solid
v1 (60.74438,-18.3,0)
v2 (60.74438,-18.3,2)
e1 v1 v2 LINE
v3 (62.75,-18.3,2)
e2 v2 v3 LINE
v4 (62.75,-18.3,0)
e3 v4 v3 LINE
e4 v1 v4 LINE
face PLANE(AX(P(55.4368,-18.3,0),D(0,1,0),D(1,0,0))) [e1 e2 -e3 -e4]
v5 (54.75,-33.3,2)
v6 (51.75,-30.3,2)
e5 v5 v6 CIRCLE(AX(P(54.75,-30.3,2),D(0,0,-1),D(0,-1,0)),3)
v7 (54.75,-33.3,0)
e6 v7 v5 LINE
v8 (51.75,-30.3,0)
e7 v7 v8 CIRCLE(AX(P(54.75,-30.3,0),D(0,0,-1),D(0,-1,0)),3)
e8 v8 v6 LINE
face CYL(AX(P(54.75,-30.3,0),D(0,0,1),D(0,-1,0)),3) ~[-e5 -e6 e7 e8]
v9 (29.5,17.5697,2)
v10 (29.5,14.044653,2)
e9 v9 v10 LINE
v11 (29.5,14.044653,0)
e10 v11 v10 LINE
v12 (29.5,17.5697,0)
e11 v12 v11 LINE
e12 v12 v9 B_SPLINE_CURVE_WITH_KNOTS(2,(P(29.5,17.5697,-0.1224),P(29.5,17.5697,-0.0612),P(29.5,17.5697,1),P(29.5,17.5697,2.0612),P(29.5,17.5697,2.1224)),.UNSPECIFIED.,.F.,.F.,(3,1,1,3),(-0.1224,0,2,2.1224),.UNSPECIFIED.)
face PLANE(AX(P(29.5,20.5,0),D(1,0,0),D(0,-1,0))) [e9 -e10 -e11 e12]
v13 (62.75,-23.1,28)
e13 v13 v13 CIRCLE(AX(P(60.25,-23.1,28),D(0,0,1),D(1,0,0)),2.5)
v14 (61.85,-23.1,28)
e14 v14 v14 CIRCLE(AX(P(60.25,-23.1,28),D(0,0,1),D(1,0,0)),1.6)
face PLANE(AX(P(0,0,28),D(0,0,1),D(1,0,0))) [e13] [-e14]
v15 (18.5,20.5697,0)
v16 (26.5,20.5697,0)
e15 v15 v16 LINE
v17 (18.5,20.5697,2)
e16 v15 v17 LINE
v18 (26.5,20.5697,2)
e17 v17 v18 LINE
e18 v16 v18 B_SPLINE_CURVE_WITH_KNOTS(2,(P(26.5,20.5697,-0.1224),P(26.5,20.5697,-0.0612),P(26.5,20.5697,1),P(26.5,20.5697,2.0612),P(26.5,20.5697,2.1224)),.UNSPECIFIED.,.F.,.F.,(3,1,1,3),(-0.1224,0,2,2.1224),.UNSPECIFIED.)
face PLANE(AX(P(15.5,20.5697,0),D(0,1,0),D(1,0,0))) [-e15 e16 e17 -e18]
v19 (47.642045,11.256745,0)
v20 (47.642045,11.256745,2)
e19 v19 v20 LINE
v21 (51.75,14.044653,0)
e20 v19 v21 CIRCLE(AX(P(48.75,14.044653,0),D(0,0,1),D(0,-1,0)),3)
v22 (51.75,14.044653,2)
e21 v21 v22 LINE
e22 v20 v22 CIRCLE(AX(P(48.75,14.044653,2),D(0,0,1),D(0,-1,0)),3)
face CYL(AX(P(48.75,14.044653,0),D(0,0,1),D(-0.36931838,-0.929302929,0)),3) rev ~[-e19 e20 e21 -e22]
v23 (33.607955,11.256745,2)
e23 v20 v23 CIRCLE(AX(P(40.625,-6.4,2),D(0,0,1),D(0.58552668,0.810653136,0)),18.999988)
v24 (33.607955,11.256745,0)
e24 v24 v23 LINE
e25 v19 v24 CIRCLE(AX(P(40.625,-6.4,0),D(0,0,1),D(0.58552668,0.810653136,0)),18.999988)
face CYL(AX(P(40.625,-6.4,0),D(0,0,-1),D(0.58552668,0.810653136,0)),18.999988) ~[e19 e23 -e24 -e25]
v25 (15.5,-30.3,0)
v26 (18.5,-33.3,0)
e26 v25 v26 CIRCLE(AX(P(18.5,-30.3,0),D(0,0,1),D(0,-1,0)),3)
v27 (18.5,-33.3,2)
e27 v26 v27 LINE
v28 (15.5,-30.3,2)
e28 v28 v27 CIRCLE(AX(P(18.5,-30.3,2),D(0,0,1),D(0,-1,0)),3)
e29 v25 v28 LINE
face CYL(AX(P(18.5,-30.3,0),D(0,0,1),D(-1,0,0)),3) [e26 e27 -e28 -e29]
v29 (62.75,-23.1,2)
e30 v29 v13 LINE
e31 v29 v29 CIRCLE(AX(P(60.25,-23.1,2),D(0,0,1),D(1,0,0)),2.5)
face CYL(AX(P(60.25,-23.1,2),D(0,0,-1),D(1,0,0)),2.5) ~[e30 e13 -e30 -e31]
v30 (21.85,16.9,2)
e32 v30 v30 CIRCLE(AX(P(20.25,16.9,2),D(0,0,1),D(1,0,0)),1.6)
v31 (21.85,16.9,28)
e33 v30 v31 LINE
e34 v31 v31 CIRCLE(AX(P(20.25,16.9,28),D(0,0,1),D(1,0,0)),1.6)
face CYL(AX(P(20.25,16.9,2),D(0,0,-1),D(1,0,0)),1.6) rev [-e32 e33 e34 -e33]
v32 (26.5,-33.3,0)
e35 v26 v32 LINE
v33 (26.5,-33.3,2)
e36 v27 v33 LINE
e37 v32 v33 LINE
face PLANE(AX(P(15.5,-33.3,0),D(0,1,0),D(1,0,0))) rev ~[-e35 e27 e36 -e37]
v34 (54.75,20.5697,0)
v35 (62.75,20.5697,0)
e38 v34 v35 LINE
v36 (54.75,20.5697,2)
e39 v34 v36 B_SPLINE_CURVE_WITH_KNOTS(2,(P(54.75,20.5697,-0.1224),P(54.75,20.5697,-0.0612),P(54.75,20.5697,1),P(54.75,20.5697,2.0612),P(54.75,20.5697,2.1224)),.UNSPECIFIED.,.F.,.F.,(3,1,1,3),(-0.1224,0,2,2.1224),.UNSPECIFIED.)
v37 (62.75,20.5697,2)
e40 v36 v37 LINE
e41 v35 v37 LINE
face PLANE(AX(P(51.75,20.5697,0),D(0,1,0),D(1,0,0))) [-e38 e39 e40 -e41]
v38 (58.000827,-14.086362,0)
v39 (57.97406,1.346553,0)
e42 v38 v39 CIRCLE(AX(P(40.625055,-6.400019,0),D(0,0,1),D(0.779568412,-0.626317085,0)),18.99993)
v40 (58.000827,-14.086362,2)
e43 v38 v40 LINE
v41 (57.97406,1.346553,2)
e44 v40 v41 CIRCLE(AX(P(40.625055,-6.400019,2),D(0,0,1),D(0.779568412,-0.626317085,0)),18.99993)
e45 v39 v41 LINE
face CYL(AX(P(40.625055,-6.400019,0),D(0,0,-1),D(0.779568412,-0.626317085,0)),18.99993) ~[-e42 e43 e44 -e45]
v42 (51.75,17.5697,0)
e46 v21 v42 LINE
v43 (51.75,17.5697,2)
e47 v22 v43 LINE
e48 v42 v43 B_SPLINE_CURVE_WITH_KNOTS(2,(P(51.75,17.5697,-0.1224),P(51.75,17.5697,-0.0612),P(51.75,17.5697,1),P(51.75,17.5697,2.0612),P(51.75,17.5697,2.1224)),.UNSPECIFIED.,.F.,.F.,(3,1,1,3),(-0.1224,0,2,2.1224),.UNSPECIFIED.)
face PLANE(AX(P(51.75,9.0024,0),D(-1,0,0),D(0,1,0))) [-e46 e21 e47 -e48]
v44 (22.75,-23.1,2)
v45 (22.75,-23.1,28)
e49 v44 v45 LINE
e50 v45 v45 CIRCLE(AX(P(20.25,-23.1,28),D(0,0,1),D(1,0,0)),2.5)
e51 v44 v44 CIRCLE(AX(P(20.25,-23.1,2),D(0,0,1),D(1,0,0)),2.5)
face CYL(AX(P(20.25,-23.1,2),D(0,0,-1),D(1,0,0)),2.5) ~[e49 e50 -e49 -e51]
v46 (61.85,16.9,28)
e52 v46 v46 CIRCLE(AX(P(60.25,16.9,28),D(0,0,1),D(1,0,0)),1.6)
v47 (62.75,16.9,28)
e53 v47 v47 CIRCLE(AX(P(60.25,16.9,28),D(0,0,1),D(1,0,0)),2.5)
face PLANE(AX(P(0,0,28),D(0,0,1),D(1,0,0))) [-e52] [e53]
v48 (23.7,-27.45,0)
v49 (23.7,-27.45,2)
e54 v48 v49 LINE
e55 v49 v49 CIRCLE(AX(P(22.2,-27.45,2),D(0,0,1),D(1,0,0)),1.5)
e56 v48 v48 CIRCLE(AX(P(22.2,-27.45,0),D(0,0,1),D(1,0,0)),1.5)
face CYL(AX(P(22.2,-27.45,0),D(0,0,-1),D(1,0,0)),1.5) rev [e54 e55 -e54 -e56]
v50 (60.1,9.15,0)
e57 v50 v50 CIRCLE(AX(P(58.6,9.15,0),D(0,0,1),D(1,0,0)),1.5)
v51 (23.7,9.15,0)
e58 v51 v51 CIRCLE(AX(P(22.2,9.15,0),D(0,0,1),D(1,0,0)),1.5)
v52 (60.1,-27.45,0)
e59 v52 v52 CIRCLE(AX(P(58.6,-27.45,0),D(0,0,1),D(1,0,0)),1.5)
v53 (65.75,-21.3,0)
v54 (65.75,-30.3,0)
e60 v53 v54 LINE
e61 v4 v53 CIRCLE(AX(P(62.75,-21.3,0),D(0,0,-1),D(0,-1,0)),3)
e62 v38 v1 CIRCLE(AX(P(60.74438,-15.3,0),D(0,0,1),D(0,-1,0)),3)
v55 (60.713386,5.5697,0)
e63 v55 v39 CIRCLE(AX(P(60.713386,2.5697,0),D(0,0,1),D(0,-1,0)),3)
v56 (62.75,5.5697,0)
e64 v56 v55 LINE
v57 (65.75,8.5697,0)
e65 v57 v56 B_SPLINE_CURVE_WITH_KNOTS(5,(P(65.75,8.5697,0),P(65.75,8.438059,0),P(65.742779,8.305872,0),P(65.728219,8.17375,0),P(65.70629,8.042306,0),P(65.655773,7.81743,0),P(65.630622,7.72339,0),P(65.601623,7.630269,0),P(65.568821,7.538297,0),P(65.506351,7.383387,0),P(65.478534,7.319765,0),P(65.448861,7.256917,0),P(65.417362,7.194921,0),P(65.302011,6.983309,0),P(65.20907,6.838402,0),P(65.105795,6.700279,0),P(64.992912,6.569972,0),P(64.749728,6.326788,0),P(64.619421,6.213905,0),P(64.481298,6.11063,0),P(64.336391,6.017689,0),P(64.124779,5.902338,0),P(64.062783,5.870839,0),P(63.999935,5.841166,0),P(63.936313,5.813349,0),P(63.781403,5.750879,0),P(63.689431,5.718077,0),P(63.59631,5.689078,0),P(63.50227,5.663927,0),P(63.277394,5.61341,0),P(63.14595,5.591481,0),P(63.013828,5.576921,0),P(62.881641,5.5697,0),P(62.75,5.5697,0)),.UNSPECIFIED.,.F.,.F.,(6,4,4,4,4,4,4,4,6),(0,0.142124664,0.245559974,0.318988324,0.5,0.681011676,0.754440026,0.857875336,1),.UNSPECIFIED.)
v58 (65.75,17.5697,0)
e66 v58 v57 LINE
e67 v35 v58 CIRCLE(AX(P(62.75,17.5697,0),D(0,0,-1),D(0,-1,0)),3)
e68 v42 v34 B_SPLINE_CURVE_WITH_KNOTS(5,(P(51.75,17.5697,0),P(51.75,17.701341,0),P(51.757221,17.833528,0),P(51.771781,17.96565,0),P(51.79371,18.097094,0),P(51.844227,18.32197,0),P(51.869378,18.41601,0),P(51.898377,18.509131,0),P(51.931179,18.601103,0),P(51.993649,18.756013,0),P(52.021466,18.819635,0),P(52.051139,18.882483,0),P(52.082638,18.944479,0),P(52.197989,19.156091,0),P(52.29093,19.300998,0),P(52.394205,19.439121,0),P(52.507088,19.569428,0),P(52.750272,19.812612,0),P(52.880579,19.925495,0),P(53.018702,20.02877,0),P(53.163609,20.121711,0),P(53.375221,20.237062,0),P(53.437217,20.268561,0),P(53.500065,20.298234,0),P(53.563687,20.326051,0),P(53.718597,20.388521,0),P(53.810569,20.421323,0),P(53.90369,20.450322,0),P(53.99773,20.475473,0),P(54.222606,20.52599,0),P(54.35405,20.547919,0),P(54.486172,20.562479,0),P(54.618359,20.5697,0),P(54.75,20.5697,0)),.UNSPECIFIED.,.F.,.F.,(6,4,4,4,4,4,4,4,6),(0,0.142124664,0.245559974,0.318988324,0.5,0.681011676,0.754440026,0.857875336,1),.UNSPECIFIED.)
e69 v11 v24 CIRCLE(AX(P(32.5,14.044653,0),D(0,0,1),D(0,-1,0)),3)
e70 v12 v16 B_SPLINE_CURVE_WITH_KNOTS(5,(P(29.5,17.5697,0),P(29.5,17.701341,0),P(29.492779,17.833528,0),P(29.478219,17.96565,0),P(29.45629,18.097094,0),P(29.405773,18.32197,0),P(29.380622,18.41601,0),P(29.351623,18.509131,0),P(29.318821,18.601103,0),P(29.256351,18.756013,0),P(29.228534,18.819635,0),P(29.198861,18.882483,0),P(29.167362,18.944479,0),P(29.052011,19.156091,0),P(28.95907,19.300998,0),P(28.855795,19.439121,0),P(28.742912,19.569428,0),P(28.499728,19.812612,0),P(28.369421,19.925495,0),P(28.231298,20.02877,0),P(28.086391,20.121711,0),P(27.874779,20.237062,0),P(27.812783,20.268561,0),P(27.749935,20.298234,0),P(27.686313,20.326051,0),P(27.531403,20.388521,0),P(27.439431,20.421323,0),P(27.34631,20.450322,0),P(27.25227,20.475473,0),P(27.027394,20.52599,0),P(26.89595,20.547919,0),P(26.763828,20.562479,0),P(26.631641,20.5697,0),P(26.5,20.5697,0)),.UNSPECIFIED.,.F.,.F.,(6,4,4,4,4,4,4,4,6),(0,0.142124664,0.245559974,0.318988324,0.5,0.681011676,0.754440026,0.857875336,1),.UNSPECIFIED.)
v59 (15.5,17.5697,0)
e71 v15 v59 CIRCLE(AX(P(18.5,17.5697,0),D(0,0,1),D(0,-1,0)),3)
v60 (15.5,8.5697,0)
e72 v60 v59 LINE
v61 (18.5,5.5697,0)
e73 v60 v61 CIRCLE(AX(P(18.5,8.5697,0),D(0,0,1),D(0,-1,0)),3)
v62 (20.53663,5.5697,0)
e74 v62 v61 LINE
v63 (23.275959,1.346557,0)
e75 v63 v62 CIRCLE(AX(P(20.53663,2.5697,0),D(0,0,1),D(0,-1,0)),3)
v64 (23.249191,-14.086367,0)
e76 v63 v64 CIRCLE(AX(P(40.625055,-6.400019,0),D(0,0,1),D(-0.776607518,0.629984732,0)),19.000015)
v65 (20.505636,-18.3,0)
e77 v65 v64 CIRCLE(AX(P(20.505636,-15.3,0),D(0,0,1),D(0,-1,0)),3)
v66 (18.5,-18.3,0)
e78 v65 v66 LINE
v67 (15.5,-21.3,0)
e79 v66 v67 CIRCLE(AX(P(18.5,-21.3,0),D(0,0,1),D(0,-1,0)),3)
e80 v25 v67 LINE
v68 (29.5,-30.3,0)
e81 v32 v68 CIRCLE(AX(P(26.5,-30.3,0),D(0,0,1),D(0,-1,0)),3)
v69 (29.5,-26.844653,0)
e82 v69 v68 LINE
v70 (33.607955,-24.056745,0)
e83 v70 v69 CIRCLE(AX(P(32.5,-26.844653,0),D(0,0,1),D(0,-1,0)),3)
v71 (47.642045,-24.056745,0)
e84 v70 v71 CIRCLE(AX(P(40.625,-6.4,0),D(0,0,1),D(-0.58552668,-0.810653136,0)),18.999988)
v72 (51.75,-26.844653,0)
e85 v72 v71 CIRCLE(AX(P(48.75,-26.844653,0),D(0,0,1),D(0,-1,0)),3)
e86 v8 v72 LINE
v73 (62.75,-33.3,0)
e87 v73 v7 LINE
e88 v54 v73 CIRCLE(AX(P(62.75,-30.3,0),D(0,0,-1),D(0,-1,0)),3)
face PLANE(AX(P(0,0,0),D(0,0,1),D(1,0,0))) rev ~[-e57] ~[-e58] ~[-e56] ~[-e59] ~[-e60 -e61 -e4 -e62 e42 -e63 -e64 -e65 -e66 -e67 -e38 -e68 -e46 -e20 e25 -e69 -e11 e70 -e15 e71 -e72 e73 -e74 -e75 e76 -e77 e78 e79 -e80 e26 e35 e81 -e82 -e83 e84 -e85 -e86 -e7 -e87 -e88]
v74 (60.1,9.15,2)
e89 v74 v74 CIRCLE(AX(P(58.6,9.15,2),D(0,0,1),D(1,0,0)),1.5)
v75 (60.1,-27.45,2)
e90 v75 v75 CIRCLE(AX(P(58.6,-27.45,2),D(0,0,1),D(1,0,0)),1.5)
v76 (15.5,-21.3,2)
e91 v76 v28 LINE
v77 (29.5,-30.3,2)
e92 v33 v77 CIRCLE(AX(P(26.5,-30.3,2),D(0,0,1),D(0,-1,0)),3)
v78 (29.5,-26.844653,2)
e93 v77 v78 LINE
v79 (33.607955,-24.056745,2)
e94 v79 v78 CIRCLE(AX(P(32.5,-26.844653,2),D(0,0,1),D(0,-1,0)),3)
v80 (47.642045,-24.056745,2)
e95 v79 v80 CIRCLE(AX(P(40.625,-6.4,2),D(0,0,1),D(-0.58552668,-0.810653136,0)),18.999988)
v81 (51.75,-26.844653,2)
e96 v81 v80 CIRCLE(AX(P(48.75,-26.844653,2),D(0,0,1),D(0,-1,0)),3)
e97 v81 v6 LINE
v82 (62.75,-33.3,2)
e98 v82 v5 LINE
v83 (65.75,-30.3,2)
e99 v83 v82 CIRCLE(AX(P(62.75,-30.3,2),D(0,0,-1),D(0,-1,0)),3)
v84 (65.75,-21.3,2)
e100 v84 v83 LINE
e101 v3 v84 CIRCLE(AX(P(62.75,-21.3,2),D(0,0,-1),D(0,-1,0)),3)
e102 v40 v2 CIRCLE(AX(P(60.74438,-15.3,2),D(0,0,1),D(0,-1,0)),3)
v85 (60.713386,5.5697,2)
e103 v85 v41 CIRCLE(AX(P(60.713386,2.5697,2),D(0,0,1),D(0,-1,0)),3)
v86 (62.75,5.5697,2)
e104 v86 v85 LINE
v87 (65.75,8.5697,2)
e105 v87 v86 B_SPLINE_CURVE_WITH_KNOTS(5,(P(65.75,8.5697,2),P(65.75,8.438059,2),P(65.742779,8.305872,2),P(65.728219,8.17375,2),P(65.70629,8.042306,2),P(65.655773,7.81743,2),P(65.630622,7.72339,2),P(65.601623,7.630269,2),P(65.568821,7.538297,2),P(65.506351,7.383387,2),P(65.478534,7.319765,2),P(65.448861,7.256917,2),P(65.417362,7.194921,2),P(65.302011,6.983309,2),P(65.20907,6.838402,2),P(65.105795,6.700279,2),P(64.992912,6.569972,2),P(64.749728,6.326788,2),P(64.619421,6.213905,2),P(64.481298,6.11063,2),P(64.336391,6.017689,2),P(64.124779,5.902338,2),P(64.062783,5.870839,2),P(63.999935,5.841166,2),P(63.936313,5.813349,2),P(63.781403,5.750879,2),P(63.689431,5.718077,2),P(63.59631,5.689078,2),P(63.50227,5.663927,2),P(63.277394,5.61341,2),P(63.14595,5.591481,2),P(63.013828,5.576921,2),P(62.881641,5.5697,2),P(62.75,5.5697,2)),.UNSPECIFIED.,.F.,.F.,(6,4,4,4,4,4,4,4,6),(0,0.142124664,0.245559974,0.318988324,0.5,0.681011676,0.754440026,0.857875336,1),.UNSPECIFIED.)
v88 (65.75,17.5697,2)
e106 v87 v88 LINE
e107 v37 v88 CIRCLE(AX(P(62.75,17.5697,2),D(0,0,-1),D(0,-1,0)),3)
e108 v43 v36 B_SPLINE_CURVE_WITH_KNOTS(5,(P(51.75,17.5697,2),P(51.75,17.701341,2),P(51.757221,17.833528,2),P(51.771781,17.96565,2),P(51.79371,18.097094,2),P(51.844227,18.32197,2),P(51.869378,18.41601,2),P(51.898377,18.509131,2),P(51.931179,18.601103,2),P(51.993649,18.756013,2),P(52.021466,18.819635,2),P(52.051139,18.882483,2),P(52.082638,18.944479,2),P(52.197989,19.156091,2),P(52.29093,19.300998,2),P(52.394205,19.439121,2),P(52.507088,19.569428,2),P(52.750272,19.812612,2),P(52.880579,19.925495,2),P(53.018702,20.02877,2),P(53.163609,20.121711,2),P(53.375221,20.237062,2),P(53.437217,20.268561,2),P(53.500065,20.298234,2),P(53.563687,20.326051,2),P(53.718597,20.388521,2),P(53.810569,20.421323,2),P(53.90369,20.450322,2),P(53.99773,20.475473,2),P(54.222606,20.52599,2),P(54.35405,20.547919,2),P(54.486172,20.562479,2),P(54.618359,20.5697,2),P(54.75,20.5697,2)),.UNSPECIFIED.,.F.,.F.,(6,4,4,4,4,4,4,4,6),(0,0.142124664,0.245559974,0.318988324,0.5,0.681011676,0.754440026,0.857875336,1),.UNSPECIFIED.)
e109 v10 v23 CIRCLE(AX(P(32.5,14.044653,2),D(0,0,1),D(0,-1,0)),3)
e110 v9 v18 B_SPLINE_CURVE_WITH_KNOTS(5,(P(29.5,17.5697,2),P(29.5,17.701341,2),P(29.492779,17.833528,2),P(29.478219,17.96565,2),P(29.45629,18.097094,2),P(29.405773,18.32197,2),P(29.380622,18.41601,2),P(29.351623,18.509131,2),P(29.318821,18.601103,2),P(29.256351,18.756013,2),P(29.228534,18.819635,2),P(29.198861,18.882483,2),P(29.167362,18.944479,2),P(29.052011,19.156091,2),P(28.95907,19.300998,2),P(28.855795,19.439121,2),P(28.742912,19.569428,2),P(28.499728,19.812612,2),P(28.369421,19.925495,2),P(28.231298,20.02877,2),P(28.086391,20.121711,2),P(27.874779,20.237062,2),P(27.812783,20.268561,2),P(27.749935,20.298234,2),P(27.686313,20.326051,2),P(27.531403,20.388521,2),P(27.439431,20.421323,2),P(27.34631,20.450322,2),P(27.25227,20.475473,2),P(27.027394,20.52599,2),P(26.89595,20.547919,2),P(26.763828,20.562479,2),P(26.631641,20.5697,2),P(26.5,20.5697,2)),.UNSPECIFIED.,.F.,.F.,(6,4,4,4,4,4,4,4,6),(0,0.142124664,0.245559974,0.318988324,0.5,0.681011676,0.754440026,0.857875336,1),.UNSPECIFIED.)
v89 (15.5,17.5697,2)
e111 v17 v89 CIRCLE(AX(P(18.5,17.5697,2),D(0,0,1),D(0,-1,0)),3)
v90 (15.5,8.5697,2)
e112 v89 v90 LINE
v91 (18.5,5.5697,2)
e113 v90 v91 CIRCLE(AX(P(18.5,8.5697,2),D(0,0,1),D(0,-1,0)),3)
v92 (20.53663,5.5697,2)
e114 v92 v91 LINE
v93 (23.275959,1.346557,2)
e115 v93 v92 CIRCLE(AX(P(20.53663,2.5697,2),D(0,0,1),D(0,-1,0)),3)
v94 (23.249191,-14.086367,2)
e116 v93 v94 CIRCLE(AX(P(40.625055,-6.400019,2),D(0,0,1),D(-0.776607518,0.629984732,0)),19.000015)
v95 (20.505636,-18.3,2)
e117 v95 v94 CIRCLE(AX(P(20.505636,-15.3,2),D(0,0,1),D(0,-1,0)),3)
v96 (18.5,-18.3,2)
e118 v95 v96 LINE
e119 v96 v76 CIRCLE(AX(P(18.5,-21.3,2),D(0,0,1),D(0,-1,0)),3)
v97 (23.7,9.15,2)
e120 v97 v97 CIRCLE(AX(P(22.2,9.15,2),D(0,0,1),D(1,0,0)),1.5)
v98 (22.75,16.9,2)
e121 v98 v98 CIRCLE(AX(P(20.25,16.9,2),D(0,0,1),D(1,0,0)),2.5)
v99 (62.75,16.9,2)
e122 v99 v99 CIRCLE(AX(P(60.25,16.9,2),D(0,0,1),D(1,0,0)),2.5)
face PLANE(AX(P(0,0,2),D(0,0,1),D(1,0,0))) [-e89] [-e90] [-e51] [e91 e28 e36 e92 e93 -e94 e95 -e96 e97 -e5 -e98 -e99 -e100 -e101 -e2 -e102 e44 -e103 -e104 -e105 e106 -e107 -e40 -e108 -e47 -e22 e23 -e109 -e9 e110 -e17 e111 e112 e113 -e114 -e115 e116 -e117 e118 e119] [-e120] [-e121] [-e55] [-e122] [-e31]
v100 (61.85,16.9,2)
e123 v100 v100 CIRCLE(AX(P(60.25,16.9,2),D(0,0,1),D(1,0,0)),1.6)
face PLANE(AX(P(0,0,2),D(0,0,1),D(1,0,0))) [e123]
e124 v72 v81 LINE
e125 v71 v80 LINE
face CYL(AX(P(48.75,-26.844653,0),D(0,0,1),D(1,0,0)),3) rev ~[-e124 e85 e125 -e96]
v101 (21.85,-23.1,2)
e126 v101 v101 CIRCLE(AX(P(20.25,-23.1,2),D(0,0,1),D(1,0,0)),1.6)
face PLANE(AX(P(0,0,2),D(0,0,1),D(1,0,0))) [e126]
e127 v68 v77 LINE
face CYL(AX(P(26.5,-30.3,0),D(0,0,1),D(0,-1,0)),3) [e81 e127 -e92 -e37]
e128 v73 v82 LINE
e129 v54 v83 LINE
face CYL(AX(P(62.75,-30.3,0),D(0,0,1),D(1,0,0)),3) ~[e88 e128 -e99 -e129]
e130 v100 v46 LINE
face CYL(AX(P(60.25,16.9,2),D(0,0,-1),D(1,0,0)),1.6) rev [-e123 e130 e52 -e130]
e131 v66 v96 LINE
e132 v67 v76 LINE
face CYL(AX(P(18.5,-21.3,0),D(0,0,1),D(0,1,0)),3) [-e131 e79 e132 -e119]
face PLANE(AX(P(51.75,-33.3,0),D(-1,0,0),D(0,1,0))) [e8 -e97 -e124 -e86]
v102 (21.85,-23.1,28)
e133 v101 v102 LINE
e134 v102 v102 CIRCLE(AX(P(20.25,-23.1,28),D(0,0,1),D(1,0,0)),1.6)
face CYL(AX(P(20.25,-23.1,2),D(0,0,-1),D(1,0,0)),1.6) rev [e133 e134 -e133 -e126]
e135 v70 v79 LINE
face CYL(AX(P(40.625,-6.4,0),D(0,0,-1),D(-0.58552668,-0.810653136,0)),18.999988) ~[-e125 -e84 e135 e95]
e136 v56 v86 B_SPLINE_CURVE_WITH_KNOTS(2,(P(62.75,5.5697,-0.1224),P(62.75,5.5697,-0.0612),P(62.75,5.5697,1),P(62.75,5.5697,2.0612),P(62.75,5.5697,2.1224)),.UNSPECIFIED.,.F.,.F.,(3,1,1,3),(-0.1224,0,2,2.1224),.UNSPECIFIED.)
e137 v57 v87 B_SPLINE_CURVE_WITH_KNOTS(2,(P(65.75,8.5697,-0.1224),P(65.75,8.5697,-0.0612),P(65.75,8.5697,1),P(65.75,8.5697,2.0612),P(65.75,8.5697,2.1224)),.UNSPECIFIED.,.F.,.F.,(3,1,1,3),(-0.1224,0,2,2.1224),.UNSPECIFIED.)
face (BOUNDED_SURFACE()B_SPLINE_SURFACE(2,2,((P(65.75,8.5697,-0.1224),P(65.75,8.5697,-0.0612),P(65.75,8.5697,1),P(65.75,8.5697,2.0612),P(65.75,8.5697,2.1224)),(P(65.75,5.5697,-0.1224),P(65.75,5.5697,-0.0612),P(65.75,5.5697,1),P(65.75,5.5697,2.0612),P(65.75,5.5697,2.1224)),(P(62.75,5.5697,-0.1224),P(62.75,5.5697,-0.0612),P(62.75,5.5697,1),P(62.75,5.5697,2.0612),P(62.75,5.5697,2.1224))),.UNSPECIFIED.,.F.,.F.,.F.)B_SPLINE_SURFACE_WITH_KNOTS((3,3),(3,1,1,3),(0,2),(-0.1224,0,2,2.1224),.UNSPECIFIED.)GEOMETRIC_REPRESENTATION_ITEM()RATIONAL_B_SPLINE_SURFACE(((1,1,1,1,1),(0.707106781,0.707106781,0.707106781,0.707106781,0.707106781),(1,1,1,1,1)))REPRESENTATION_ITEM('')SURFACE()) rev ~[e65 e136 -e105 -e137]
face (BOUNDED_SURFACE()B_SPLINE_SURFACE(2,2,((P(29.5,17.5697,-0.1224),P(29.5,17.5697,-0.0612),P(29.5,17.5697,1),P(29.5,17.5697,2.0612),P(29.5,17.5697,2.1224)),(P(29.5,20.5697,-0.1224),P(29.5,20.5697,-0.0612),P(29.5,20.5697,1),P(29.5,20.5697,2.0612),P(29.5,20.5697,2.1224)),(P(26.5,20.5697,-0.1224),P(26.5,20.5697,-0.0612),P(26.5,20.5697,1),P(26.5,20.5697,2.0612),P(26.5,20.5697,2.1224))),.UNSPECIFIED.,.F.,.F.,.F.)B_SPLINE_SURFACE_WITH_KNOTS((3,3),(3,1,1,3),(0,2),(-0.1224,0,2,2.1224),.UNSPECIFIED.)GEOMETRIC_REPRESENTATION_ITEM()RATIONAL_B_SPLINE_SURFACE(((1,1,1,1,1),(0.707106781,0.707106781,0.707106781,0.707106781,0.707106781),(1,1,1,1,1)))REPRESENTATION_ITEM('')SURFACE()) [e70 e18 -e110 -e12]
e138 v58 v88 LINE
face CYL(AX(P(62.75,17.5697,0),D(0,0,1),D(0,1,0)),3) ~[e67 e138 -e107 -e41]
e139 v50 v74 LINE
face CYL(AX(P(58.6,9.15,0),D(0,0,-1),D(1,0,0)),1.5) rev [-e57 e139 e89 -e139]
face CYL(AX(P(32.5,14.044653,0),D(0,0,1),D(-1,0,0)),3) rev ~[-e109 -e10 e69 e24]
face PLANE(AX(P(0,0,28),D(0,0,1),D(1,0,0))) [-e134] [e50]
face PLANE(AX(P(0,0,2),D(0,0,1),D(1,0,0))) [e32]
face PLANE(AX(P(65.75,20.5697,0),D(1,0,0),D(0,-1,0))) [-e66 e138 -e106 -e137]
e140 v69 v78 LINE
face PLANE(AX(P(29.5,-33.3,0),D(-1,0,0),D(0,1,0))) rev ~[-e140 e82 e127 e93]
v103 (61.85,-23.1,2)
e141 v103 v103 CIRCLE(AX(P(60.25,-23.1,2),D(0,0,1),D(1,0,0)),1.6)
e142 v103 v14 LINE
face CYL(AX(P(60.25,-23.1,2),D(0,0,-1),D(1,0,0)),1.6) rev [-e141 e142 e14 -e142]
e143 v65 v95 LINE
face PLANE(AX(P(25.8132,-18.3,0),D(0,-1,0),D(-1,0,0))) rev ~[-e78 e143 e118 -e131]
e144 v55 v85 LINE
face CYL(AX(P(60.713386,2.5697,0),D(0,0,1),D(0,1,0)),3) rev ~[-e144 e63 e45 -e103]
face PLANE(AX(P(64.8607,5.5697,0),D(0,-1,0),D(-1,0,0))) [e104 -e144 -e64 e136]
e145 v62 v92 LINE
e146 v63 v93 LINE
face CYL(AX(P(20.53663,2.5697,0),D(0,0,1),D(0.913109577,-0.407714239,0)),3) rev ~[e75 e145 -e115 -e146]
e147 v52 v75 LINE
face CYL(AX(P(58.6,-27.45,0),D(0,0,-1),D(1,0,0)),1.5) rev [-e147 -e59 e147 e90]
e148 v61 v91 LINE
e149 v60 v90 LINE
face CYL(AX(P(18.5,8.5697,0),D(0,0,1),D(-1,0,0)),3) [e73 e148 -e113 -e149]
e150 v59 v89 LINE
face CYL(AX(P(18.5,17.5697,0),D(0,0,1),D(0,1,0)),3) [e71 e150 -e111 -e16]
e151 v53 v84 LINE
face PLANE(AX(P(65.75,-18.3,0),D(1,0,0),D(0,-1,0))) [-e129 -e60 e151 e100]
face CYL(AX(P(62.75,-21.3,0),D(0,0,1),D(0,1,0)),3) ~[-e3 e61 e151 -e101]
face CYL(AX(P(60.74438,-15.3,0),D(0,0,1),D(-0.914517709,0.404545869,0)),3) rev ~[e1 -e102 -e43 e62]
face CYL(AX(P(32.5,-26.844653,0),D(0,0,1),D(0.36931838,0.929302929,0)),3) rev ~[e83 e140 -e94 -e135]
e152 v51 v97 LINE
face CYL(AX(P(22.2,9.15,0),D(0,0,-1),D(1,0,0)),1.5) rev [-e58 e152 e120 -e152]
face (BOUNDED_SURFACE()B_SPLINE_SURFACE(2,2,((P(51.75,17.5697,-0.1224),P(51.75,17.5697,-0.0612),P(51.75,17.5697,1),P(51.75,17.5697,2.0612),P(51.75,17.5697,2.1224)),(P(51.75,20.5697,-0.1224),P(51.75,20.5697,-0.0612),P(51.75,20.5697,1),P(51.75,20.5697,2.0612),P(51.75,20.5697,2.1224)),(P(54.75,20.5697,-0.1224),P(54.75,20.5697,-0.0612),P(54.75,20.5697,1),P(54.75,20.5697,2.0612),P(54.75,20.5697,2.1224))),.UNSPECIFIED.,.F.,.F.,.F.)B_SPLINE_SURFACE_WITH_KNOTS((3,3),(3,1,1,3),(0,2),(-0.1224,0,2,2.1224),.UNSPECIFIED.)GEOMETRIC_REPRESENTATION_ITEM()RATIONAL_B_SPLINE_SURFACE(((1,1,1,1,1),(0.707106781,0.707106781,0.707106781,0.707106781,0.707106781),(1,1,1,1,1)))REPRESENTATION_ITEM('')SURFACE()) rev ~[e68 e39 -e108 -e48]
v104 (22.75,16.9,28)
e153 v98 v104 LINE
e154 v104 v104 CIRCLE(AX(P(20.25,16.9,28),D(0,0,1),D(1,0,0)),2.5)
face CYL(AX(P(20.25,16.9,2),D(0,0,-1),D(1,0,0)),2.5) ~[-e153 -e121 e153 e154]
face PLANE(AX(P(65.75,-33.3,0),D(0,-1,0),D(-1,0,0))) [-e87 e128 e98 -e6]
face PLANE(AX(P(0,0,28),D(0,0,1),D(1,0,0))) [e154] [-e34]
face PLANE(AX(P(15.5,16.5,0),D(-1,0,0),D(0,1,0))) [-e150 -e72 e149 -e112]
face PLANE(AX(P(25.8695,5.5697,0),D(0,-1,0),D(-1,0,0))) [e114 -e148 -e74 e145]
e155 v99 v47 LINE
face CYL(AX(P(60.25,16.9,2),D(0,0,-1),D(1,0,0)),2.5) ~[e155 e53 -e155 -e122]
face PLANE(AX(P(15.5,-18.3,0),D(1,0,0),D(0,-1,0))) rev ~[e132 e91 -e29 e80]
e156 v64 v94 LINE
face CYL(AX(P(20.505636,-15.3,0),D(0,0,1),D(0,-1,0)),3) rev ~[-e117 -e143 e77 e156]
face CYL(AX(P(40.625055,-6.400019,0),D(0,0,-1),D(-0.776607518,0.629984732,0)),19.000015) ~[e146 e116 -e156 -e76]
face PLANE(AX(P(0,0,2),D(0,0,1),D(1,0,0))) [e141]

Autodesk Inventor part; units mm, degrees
ref_plane "YZ Plane" through (0, 0, 0) normal (1, 0, 0) x (0, 1, 0)
ref_plane "XZ Plane" through (0, 0, 0) normal (0, 1, 0) x (-1, 0, 0)
ref_plane "Work Plane1" through (0, 0, 0) normal (0, 0, 1) x (1, 0, 0)
sketch "Sketch1" plane through (0, 0, 0) normal (0, 0, 1) x (1, 0, 0)
  circle A0 centre (22.2, -27.45) radius 1.5 projected
  circle A1 centre (58.6, -27.45) radius 1.5 projected
  circle A2 centre (22.2, 9.15) radius 1.5 projected
  circle A3 centre (58.6, 9.15) radius 1.5 projected
  line L0 (15.5, 16.5) -> (15.5, -25.3) projected
  line L1 (19.5, -29.3) -> (61, -29.3) projected
  line L2 (61, 20.5) -> (19.5, 20.5) projected
  line L3 (64.8607, 14) -> (64.8607, -18) projected
  line L4 (65.75, -18) -> (65.75, 14) projected
  line L5 (65.75, -33.3) -> (51.75, -33.3)
  line L6 (51.75, -33.3) -> (51.75, -21.8024)
  line L7 (55.4368, -18.3) -> (65.75, -18.3)
  line L8 (65.75, -18.3) -> (65.75, -33.3)
  line L9 (15.5, -33.3) -> (29.5, -33.3)
  line L10 (29.5, -33.3) -> (29.5, -21.8024)
  line L11 (25.8132, -18.3) -> (15.5, -18.3)
  line L12 (15.5, -18.3) -> (15.5, -33.3)
  line L13 (15.5, 20.5697) -> (29.5, 20.5697)
  line L14 (29.5, 20.5697) -> (29.5, 9.0024)
  line L15 (25.8695, 5.5697) -> (15.5, 5.5697)
  line L16 (15.5, 5.5697) -> (15.5, 20.5697)
  line L17 (51.75, 20.5697) -> (65.75, 20.5697)
  line L18 (65.75, 20.5697) -> (65.75, 5.5697)
  line L19 (65.75, 5.5697) -> (55.3805, 5.5697)
  line L20 (51.75, 9.0024) -> (51.75, 20.5697)
  arc A4 (51.75, 9.0024) -> (29.5, 9.0024) centre (40.625, -6.4) ccw
  arc A5 (25.8695, 5.5697) -> (25.8132, -18.3) centre (40.625, -6.4) ccw
  arc A6 (29.5, -21.8024) -> (51.75, -21.8024) centre (40.625, -6.4) ccw
  arc A7 (55.4368, -18.3) -> (55.3805, 5.5697) centre (40.625, -6.4) ccw
  line L21 (65.75, 20.5697) -> (65.75, 5.5697)
  line L22 (65.75, -18.3) -> (65.75, -33.3)
  line L23 (15.5, 20.5697) -> (29.5, 20.5697)
  line L24 (51.75, 20.5697) -> (65.75, 20.5697)
  line L25 (15.5, -33.3) -> (15.5, -18.3)
  line L26 (15.5, 5.5697) -> (15.5, 20.5697)
  point P0 (0, 0)
  point P1 (40.25, 20.5)
  dimension "d10" = 50.25
  dimension "d13" = 26.9
extrude "Extrusion1" add sketch "Sketch1" along normal blind 2 contours L16 L13 L14 A4 L20 L17 L18 L4 L19 A7 L7 L8 L5 L6 A6 L10 L9 L12 L0 L11 A5 L15
fillet "Fillet1" radius 3 7 edges at (55.3805, 5.5697, 1) (29.5, -21.8024, 1) (25.8132, -18.3, 1) (29.5, 9.0024, 1) (55.4368, -18.3, 1) (25.8695, 5.5697, 1) (51.75, -21.8024, 1)
fillet "Fillet2" radius 3 12 edges at (15.5, 20.5697, 1) (15.5, 5.5697, 1) (29.5, 20.5697, 1) (51.75, 20.5697, 1) (65.75, 20.5697, 1) (65.75, -18.3, 1) (51.75, -33.3, 1) (15.5, -18.3, 1) (15.5, -33.3, 1) (29.5, -33.3, 1) (65.75, -33.3, 1) (65.75, 5.5697, 1)
sketch "Sketch2" plane through (0, 0, 2) normal (0, 0, 1) x (1, 0, 0)
  circle A0 centre (60.25, -23.1) radius 1.6 projected
  circle A1 centre (20.25, -23.1) radius 1.6 projected
  circle A2 centre (20.25, 16.9) radius 1.6 projected
  circle A3 centre (60.25, 16.9) radius 1.6 projected
  circle A4 centre (20.25, -23.1) radius 2.5
  circle A5 centre (60.25, 16.9) radius 2.5
  circle A6 centre (20.25, 16.9) radius 2.5
  circle A7 centre (60.25, -23.1) radius 2.5
  point P0 (0, 0)
  dimension "d17" = 5
  dimension "d18" = 5
  dimension "d19" = 5
  dimension "d20" = 5
extrude "Extrusion2" add sketch "Sketch2" along normal blind 26
fillet "Fillet3" radius 3 1 edges at (51.75, 9.0024, 1)
equation "\"d13\" = 0.5 * d11"
equation "\"d11\" = 53.8"
properties part number "soporteHBridge" material "ABS Plastic"
